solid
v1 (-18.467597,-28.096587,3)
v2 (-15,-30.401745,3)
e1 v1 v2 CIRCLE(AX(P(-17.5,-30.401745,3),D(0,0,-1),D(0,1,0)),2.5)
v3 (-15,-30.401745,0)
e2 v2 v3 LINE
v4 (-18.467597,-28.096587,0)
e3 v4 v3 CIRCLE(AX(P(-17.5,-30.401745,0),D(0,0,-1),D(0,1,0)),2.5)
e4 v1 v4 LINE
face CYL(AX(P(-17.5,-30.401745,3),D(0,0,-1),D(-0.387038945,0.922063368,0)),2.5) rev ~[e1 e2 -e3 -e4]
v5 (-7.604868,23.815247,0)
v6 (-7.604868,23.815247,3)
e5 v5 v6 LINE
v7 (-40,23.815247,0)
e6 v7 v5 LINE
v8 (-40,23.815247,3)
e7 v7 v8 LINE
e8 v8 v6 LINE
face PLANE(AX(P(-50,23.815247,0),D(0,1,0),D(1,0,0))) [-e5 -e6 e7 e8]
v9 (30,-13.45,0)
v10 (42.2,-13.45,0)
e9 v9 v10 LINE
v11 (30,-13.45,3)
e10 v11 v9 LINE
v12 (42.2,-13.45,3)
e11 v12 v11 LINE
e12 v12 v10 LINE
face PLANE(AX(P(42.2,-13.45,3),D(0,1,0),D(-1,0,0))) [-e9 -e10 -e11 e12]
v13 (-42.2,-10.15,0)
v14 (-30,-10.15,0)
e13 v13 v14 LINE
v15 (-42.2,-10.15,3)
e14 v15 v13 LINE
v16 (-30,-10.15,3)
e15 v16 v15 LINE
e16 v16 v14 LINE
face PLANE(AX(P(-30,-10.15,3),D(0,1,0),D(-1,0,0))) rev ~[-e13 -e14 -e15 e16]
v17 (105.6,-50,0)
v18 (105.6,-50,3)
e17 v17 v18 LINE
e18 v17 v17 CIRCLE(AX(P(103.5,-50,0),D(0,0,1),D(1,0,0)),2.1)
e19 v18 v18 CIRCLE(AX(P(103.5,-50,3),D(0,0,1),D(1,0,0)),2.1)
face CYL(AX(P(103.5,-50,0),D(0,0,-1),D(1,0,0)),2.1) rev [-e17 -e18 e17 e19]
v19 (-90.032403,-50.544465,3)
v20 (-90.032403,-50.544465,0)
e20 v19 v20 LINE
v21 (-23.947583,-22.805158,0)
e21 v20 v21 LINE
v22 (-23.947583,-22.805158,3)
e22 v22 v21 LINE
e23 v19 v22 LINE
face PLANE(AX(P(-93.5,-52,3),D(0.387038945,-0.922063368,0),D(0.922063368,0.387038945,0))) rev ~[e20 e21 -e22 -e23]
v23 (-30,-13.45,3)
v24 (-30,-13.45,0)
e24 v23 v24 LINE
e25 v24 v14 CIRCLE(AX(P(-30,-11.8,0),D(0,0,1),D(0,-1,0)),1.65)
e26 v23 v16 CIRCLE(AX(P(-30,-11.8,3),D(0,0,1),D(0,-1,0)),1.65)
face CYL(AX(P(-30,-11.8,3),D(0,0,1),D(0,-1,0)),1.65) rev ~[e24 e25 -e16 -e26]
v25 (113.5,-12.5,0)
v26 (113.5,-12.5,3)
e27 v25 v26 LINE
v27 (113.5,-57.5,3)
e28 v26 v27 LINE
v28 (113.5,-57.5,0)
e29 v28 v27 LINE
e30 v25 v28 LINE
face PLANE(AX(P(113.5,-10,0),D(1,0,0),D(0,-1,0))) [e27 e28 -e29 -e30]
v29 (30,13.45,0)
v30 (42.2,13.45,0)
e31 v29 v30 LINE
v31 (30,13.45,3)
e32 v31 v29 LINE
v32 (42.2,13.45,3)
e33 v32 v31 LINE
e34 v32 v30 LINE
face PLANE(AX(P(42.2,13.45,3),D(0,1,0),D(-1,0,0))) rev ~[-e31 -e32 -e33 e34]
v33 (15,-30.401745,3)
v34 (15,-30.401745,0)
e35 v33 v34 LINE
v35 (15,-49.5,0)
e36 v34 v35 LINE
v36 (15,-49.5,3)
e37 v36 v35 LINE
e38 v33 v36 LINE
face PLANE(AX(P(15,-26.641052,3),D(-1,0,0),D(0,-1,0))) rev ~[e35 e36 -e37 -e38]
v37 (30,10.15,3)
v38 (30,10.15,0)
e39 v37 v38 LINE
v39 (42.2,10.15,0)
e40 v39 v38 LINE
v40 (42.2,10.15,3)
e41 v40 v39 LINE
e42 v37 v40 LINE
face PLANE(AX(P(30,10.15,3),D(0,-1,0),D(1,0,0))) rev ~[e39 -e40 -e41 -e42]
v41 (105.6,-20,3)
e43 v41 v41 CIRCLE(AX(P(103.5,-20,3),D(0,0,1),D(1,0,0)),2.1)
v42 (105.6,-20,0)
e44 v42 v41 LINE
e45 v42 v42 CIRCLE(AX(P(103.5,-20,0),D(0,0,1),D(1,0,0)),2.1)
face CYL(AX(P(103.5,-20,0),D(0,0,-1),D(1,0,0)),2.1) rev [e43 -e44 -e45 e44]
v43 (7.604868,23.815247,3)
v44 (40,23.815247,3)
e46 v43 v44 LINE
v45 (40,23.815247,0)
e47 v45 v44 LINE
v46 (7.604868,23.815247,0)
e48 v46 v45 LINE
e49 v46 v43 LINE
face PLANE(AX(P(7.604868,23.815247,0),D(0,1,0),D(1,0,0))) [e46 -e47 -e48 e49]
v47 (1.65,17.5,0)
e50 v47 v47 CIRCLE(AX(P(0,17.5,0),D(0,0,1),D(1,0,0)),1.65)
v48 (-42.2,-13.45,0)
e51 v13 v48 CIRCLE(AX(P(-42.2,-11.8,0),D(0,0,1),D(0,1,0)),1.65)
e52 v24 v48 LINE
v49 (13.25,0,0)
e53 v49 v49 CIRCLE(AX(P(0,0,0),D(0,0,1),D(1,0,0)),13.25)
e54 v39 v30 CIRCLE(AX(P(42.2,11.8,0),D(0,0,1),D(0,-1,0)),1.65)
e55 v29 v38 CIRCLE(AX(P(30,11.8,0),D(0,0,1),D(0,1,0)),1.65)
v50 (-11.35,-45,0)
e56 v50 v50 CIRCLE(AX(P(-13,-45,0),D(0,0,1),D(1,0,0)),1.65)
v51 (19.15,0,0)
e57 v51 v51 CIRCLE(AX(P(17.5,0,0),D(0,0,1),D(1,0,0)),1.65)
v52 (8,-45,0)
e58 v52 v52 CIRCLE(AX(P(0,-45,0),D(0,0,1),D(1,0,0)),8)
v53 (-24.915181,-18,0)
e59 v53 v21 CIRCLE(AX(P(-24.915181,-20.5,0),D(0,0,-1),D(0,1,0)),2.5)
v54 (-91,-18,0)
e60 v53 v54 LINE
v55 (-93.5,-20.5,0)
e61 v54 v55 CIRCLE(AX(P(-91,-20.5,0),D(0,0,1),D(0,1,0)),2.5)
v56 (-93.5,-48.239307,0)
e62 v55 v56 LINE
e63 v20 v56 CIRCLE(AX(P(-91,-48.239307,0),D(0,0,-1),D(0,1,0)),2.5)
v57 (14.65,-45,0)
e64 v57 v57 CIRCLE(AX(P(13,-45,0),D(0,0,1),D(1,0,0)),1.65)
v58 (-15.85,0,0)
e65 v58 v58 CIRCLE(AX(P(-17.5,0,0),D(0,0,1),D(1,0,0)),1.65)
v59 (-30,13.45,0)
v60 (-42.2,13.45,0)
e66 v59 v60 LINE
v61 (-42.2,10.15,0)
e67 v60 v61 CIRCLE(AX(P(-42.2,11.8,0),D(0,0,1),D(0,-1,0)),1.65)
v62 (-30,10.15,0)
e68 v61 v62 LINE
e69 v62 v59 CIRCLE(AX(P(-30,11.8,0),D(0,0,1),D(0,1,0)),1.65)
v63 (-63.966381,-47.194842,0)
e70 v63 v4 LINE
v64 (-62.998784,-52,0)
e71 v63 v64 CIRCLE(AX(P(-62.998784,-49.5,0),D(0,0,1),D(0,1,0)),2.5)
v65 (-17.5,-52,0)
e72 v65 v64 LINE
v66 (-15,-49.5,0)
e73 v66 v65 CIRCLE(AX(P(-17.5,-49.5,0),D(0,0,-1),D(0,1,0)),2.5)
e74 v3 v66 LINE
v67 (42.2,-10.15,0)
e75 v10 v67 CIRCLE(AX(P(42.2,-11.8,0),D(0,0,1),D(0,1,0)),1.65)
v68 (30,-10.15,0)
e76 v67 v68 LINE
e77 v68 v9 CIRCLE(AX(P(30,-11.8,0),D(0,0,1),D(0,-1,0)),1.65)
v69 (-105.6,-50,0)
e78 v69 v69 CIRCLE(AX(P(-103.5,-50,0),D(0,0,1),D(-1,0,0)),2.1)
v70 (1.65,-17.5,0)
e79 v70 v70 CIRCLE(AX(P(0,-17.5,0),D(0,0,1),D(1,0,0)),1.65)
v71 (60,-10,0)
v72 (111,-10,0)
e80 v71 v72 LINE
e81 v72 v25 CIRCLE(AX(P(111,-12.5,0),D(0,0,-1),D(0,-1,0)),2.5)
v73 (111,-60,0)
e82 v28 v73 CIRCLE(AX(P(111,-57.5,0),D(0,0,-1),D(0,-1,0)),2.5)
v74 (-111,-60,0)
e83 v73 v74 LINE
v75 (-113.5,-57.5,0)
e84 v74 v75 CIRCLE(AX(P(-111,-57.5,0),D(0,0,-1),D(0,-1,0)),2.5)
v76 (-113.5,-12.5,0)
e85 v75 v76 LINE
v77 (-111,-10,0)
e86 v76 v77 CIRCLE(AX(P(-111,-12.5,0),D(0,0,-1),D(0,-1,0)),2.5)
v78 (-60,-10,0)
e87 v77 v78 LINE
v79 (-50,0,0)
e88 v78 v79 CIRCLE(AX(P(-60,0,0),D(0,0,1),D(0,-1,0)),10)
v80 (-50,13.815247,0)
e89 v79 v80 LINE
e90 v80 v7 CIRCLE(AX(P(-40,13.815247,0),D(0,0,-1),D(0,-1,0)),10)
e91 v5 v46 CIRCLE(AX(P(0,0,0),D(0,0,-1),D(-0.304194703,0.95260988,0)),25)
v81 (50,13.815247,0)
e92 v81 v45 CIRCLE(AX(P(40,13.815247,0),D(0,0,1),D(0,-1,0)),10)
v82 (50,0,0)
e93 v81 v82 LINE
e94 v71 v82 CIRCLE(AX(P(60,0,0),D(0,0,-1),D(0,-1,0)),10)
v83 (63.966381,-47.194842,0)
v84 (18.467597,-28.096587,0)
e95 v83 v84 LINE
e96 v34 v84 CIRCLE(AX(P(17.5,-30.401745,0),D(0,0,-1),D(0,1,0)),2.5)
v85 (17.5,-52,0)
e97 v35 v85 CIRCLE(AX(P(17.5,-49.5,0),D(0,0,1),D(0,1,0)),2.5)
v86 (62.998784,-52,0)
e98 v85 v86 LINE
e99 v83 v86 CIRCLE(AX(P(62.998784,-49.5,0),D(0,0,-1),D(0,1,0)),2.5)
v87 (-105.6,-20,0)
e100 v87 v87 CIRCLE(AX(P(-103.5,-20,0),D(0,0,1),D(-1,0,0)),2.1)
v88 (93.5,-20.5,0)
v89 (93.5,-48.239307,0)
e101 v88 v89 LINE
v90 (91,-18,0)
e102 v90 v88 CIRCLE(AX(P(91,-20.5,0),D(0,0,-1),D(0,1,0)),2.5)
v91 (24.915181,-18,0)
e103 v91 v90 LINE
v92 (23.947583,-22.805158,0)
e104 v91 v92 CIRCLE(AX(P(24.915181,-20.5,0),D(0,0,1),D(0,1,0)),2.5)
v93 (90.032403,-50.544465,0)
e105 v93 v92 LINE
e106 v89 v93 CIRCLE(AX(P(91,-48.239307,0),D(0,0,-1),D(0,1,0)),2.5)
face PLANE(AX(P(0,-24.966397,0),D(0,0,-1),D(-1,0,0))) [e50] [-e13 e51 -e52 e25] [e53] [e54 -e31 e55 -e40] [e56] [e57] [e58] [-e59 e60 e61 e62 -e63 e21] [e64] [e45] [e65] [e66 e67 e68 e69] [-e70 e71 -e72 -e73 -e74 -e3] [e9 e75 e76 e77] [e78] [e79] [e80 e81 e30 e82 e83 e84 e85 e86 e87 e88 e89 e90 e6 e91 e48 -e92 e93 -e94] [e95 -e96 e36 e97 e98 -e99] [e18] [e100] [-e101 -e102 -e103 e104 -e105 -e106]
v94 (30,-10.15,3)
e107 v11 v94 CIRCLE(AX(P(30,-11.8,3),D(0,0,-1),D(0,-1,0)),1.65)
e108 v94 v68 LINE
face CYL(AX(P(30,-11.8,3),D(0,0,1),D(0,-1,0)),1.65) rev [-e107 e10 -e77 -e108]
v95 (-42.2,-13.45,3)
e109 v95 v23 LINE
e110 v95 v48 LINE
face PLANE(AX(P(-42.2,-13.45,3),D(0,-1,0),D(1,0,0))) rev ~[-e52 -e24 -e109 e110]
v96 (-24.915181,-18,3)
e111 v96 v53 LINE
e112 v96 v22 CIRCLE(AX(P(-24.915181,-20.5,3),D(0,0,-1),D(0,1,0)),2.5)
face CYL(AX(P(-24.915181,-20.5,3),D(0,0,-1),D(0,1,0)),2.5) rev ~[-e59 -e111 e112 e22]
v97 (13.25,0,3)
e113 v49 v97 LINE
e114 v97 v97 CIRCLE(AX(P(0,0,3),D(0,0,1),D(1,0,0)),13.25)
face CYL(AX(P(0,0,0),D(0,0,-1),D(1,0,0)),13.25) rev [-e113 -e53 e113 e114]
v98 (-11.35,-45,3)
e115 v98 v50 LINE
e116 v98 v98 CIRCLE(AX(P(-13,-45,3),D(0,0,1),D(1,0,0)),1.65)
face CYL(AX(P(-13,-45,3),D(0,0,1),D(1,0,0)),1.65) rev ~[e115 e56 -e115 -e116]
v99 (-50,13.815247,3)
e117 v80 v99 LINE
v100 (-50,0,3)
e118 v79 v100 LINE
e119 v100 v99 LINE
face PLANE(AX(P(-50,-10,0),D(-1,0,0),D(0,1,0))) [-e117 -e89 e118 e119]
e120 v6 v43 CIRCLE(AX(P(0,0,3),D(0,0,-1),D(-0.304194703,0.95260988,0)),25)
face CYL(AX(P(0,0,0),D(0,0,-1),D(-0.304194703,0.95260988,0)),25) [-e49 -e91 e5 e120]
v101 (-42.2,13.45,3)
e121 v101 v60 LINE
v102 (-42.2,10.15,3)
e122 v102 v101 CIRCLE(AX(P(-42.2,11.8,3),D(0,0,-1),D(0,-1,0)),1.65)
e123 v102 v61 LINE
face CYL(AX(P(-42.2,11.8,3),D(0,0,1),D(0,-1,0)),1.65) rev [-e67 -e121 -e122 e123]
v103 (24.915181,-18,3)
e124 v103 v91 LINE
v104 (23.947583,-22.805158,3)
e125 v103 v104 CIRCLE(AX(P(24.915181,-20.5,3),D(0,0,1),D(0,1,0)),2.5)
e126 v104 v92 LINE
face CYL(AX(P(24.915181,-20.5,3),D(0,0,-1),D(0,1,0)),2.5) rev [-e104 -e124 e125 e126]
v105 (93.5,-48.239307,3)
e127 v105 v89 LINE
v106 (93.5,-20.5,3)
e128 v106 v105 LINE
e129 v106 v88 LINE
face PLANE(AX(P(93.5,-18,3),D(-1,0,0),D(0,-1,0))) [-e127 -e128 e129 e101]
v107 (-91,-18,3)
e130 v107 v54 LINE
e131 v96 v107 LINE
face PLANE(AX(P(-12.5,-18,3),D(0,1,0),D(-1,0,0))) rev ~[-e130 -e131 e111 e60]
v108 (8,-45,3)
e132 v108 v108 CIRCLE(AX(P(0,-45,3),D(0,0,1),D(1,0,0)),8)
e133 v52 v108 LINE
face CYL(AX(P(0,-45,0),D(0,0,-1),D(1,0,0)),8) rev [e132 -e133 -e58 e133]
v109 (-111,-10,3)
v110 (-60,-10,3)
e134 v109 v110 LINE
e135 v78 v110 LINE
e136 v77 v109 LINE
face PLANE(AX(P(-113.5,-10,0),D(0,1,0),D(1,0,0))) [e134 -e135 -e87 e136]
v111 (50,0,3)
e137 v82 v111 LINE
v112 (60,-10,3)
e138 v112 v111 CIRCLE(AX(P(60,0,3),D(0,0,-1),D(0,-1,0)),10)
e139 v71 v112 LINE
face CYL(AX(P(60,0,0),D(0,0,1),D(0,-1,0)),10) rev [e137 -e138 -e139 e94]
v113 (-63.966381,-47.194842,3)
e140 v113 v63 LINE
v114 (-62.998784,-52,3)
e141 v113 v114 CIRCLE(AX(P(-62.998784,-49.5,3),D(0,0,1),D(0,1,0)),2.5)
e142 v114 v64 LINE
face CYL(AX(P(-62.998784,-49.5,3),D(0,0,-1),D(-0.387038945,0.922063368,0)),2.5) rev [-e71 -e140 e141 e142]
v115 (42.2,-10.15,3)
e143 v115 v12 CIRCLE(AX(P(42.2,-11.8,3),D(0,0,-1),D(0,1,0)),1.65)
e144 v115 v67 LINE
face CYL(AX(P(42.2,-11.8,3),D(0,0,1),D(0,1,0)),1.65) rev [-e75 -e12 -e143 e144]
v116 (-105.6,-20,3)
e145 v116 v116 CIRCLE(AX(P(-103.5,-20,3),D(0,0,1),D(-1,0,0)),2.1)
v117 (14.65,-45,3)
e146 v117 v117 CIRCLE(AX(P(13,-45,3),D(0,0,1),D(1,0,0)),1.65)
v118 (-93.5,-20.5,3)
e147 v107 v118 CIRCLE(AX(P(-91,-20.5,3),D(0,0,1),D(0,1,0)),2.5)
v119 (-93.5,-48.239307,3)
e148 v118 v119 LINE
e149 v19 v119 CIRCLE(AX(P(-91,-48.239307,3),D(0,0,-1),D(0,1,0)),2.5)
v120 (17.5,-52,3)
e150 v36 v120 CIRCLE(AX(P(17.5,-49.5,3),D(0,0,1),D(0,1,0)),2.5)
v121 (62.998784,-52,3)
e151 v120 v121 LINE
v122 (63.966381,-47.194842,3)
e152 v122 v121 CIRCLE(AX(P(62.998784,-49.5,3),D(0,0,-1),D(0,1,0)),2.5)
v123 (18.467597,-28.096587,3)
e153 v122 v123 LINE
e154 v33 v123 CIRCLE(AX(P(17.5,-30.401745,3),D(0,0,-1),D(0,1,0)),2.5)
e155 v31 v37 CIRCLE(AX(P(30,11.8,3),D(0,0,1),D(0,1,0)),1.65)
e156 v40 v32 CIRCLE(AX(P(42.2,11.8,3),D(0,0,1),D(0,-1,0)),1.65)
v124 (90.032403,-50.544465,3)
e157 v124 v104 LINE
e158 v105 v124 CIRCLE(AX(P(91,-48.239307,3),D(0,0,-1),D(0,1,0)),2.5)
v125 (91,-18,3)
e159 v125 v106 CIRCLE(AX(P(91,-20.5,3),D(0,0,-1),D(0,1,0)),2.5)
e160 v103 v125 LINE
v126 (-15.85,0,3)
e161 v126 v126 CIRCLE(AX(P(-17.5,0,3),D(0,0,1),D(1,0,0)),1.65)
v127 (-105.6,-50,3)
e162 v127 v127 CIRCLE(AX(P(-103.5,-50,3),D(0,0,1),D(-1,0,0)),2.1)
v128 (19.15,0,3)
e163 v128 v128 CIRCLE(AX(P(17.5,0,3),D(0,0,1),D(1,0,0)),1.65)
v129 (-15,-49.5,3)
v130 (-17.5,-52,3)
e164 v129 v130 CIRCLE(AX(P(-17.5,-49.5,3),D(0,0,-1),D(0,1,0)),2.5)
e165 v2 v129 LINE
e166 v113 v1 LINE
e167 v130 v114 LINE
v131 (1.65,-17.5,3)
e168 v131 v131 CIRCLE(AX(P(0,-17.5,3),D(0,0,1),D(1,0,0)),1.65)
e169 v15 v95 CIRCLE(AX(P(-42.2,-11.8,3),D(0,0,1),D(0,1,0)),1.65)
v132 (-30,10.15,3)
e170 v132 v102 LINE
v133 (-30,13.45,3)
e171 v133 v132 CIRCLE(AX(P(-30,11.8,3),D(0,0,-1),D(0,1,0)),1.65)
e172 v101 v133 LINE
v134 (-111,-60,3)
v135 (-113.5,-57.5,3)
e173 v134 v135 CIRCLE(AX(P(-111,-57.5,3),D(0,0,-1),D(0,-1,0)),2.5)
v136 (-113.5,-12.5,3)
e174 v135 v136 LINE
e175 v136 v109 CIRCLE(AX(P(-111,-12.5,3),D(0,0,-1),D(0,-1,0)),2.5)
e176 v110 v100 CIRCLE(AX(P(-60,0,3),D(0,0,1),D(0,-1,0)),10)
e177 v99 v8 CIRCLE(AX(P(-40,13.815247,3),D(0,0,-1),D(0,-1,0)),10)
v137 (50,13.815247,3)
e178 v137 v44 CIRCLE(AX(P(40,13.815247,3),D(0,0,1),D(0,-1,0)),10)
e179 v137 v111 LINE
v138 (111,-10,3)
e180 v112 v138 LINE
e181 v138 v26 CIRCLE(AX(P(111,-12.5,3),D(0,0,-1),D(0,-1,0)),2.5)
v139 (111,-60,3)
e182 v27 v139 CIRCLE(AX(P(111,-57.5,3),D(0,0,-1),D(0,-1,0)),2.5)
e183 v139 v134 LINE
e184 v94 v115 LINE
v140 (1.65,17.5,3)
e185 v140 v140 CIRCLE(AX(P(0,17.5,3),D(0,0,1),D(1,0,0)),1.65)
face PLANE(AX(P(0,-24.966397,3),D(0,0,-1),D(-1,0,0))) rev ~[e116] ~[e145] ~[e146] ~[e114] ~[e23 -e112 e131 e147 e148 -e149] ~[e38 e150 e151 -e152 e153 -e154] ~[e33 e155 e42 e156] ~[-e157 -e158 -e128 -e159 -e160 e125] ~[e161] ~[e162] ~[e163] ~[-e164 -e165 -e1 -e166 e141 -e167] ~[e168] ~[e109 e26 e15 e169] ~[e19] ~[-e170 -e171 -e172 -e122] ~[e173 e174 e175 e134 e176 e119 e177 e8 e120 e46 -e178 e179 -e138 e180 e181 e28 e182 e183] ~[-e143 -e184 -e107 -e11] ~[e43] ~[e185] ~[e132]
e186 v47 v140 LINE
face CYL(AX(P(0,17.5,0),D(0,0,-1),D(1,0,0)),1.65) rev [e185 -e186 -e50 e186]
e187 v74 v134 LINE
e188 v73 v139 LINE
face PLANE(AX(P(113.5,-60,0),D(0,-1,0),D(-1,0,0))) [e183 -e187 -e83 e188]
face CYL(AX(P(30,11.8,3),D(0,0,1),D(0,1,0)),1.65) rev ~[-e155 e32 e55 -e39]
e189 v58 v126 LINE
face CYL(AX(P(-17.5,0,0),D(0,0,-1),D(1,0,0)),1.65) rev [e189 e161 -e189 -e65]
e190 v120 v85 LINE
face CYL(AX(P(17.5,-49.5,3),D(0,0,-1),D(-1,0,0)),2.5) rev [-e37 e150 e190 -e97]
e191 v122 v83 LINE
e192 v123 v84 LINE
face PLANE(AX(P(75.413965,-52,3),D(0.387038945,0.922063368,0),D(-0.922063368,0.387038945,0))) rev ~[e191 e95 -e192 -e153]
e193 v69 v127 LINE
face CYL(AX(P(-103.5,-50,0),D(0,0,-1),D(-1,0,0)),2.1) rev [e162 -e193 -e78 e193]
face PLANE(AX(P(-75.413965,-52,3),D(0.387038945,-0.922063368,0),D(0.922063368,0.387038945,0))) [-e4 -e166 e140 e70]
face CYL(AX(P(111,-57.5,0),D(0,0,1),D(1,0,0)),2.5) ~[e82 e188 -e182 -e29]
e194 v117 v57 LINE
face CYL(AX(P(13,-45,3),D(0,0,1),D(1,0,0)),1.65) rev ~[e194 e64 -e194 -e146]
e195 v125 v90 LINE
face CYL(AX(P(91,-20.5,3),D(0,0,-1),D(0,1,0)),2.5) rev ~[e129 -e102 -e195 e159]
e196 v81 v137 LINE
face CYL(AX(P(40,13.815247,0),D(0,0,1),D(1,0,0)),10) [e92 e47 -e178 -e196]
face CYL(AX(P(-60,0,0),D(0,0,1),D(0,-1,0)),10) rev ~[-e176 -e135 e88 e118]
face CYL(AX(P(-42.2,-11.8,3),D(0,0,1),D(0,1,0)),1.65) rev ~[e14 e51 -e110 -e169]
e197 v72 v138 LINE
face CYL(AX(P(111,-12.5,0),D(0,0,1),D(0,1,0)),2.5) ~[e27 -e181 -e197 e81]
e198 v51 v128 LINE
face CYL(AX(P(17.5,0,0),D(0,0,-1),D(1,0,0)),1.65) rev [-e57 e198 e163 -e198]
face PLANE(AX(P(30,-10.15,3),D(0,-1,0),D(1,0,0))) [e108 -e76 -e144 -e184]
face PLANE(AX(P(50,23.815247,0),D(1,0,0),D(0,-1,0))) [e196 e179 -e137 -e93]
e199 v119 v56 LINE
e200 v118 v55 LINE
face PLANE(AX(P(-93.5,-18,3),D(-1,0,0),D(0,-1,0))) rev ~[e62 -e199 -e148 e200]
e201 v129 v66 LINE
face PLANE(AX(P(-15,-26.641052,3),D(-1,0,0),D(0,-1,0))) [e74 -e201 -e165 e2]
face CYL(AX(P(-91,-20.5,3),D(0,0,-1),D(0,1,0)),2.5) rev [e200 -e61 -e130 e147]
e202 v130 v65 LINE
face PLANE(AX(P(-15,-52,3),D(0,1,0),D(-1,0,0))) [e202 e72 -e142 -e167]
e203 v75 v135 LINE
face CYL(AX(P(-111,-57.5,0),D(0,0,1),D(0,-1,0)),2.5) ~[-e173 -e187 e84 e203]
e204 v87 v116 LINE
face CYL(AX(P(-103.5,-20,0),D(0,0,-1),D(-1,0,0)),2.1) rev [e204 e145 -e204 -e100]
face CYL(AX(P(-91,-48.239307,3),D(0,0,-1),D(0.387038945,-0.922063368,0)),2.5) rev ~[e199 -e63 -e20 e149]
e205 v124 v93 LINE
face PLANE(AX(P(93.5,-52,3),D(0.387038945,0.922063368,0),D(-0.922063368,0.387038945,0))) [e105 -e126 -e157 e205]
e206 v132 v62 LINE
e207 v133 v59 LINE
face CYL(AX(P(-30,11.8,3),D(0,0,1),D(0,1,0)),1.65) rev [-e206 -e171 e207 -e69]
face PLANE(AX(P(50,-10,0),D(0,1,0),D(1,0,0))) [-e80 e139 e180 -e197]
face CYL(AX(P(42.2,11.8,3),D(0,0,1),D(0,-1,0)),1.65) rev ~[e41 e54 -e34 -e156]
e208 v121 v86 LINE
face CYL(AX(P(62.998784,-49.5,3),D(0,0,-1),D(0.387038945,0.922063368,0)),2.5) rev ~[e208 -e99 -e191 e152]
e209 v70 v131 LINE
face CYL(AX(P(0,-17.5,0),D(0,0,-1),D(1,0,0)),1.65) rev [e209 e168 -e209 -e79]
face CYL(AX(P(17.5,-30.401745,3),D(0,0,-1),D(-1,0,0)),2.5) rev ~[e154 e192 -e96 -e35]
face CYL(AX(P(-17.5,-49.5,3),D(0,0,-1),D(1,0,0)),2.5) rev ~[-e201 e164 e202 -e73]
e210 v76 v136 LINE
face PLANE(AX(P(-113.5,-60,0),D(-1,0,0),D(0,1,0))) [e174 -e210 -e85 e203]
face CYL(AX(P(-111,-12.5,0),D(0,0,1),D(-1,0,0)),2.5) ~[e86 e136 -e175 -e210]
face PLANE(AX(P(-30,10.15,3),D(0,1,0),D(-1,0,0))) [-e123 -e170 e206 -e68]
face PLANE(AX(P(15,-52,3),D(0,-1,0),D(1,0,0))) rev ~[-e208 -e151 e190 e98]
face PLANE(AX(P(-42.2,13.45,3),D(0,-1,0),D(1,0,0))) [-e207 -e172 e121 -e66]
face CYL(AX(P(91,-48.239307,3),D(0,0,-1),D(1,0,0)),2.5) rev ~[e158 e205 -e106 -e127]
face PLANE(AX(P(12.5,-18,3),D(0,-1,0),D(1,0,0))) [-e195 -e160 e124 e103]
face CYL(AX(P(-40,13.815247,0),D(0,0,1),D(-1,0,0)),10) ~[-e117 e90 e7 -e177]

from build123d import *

# Parameters (mm, degrees)
SKETCH_1_R          = 13.25
SKETCH_1_R_2        = 1.65
SKETCH_1_R_3        = 2.1
SKETCH_1_R_4        = 8
EXTRUDE_1_DEPTH     = 3
FILLET_1_R          = 10
CUT_EXTRUDE_1_DEPTH = 3
FILLET_3_R          = 2.5
SKETCH_3_R          = 1.65
CUT_EXTRUDE_2_DEPTH = 129.418261941
CUT_EXTRUDE_3_DEPTH = 129.418261941


with BuildPart() as part:
    # 草图1 → 凸台-拉伸1 (new body)
    with BuildSketch(Plane.XY):
        with BuildLine():
            Line((113.5, -10), (113.5, -60))
            Line((113.5, -60), (-113.5, -60))
            Line((-113.5, -60), (-113.5, -10))
            Line((-113.5, -10), (-50, -10))
            Line((-50, -10), (-50, 23.815246989))
            Line((-50, 23.815246989), (-7.604867576, 23.815246989))
            ThreePointArc((-7.604867576, 23.815246989), (0, 25), (7.604867576, 23.815246989))
            Line((7.604867576, 23.815246989), (50, 23.815246989))
            Line((50, 23.815246989), (50, -10))
            Line((50, -10), (113.5, -10))
        make_face()
        Circle(SKETCH_1_R, mode=Mode.SUBTRACT)
        with Locations((0, 17.5)):
            Circle(SKETCH_1_R_2, mode=Mode.SUBTRACT)
        with Locations((-17.5, 0)):
            Circle(SKETCH_1_R_2, mode=Mode.SUBTRACT)
        with Locations((0, -17.5)):
            Circle(SKETCH_1_R_2, mode=Mode.SUBTRACT)
        with Locations((17.5, 0)):
            Circle(SKETCH_1_R_2, mode=Mode.SUBTRACT)
        with Locations((103.5, -20)):
            Circle(SKETCH_1_R_3, mode=Mode.SUBTRACT)
        with Locations((103.5, -50)):
            Circle(SKETCH_1_R_3, mode=Mode.SUBTRACT)
        with Locations((0, -45)):
            Circle(SKETCH_1_R_4, mode=Mode.SUBTRACT)
        with Locations(Location((-103.5, -50, 0), (0, 0, 180))):
            Circle(SKETCH_1_R_3, mode=Mode.SUBTRACT)
        with Locations(Location((-103.5, -20, 0), (0, 0, 180))):
            Circle(SKETCH_1_R_3, mode=Mode.SUBTRACT)
    extrude(amount=EXTRUDE_1_DEPTH)

    # 圆角1
    fillet_1_edges = [part.edges().sort_by_distance(p)[0] for p in [
        (50, 23.815246989, 1.5),
        (50, -10, 1.5),
        (-50, -10, 1.5),
        (-50, 23.815246989, 1.5),
    ]]
    fillet(fillet_1_edges, radius=FILLET_1_R)

    # 草图2 → 切除-拉伸1 (cut)
    with BuildSketch(Plane.XY.offset(3)):
        Polygon((-93.5, -18), (-93.5, -52), (-12.5, -18), align=None)
        Polygon((12.5, -18), (93.5, -18), (93.5, -52), align=None)
        Polygon((-75.413964744, -52), (-15, -26.641051836), (-15, -52), align=None)
        Polygon((15, -52), (75.413964744, -52), (15, -26.641051836), align=None)
    extrude(amount=-CUT_EXTRUDE_1_DEPTH, mode=Mode.SUBTRACT)

    # 圆角3
    fillet_3_edges = [part.edges().sort_by_distance(p)[0] for p in [
        (-15, -52, 1.5),
        (-75.413964744, -52, 1.5),
        (-15, -26.641051836, 1.5),
        (15, -52, 1.5),
        (15, -26.641051836, 1.5),
        (75.413964744, -52, 1.5),
        (93.5, -52, 1.5),
        (12.5, -18, 1.5),
        (93.5, -18, 1.5),
        (-93.5, -18, 1.5),
        (-12.5, -18, 1.5),
        (-93.5, -52, 1.5),
        (113.5, -10, 1.5),
        (113.5, -60, 1.5),
        (-113.5, -60, 1.5),
        (-113.5, -10, 1.5),
    ]]
    fillet(fillet_3_edges, radius=FILLET_3_R)

    # 草图3 → 切除-拉伸2 (cut, through all)
    with BuildSketch(Plane.XY.offset(3)):
        with Locations((-13, -45)):
            Circle(SKETCH_3_R)
        with Locations((13, -45)):
            Circle(SKETCH_3_R)
    extrude(amount=-CUT_EXTRUDE_2_DEPTH, mode=Mode.SUBTRACT)

    # 草图4 → 切除-拉伸3 (cut, through all)
    with BuildSketch(Plane.XY.offset(3)):
        with BuildLine():
            Line((-42.2, 13.45), (-30, 13.45))
            ThreePointArc((-30, 13.45), (-28.35, 11.8), (-30, 10.15))
            Line((-30, 10.15), (-42.2, 10.15))
            ThreePointArc((-42.2, 10.15), (-43.85, 11.8), (-42.2, 13.45))
        make_face()
        with BuildLine():
            Line((-42.2, -13.45), (-30, -13.45))
            ThreePointArc((-30, -13.45), (-28.35, -11.8), (-30, -10.15))
            Line((-30, -10.15), (-42.2, -10.15))
            ThreePointArc((-42.2, -10.15), (-43.85, -11.8), (-42.2, -13.45))
        make_face()
        with BuildLine():
            Line((42.2, 13.45), (30, 13.45))
            ThreePointArc((30, 13.45), (28.35, 11.8), (30, 10.15))
            Line((30, 10.15), (42.2, 10.15))
            ThreePointArc((42.2, 10.15), (43.85, 11.8), (42.2, 13.45))
        make_face()
        with BuildLine():
            Line((42.2, -13.45), (30, -13.45))
            ThreePointArc((30, -13.45), (28.35, -11.8), (30, -10.15))
            Line((30, -10.15), (42.2, -10.15))
            ThreePointArc((42.2, -10.15), (43.85, -11.8), (42.2, -13.45))
        make_face()
    extrude(amount=-CUT_EXTRUDE_3_DEPTH, mode=Mode.SUBTRACT)


solid = part.part
